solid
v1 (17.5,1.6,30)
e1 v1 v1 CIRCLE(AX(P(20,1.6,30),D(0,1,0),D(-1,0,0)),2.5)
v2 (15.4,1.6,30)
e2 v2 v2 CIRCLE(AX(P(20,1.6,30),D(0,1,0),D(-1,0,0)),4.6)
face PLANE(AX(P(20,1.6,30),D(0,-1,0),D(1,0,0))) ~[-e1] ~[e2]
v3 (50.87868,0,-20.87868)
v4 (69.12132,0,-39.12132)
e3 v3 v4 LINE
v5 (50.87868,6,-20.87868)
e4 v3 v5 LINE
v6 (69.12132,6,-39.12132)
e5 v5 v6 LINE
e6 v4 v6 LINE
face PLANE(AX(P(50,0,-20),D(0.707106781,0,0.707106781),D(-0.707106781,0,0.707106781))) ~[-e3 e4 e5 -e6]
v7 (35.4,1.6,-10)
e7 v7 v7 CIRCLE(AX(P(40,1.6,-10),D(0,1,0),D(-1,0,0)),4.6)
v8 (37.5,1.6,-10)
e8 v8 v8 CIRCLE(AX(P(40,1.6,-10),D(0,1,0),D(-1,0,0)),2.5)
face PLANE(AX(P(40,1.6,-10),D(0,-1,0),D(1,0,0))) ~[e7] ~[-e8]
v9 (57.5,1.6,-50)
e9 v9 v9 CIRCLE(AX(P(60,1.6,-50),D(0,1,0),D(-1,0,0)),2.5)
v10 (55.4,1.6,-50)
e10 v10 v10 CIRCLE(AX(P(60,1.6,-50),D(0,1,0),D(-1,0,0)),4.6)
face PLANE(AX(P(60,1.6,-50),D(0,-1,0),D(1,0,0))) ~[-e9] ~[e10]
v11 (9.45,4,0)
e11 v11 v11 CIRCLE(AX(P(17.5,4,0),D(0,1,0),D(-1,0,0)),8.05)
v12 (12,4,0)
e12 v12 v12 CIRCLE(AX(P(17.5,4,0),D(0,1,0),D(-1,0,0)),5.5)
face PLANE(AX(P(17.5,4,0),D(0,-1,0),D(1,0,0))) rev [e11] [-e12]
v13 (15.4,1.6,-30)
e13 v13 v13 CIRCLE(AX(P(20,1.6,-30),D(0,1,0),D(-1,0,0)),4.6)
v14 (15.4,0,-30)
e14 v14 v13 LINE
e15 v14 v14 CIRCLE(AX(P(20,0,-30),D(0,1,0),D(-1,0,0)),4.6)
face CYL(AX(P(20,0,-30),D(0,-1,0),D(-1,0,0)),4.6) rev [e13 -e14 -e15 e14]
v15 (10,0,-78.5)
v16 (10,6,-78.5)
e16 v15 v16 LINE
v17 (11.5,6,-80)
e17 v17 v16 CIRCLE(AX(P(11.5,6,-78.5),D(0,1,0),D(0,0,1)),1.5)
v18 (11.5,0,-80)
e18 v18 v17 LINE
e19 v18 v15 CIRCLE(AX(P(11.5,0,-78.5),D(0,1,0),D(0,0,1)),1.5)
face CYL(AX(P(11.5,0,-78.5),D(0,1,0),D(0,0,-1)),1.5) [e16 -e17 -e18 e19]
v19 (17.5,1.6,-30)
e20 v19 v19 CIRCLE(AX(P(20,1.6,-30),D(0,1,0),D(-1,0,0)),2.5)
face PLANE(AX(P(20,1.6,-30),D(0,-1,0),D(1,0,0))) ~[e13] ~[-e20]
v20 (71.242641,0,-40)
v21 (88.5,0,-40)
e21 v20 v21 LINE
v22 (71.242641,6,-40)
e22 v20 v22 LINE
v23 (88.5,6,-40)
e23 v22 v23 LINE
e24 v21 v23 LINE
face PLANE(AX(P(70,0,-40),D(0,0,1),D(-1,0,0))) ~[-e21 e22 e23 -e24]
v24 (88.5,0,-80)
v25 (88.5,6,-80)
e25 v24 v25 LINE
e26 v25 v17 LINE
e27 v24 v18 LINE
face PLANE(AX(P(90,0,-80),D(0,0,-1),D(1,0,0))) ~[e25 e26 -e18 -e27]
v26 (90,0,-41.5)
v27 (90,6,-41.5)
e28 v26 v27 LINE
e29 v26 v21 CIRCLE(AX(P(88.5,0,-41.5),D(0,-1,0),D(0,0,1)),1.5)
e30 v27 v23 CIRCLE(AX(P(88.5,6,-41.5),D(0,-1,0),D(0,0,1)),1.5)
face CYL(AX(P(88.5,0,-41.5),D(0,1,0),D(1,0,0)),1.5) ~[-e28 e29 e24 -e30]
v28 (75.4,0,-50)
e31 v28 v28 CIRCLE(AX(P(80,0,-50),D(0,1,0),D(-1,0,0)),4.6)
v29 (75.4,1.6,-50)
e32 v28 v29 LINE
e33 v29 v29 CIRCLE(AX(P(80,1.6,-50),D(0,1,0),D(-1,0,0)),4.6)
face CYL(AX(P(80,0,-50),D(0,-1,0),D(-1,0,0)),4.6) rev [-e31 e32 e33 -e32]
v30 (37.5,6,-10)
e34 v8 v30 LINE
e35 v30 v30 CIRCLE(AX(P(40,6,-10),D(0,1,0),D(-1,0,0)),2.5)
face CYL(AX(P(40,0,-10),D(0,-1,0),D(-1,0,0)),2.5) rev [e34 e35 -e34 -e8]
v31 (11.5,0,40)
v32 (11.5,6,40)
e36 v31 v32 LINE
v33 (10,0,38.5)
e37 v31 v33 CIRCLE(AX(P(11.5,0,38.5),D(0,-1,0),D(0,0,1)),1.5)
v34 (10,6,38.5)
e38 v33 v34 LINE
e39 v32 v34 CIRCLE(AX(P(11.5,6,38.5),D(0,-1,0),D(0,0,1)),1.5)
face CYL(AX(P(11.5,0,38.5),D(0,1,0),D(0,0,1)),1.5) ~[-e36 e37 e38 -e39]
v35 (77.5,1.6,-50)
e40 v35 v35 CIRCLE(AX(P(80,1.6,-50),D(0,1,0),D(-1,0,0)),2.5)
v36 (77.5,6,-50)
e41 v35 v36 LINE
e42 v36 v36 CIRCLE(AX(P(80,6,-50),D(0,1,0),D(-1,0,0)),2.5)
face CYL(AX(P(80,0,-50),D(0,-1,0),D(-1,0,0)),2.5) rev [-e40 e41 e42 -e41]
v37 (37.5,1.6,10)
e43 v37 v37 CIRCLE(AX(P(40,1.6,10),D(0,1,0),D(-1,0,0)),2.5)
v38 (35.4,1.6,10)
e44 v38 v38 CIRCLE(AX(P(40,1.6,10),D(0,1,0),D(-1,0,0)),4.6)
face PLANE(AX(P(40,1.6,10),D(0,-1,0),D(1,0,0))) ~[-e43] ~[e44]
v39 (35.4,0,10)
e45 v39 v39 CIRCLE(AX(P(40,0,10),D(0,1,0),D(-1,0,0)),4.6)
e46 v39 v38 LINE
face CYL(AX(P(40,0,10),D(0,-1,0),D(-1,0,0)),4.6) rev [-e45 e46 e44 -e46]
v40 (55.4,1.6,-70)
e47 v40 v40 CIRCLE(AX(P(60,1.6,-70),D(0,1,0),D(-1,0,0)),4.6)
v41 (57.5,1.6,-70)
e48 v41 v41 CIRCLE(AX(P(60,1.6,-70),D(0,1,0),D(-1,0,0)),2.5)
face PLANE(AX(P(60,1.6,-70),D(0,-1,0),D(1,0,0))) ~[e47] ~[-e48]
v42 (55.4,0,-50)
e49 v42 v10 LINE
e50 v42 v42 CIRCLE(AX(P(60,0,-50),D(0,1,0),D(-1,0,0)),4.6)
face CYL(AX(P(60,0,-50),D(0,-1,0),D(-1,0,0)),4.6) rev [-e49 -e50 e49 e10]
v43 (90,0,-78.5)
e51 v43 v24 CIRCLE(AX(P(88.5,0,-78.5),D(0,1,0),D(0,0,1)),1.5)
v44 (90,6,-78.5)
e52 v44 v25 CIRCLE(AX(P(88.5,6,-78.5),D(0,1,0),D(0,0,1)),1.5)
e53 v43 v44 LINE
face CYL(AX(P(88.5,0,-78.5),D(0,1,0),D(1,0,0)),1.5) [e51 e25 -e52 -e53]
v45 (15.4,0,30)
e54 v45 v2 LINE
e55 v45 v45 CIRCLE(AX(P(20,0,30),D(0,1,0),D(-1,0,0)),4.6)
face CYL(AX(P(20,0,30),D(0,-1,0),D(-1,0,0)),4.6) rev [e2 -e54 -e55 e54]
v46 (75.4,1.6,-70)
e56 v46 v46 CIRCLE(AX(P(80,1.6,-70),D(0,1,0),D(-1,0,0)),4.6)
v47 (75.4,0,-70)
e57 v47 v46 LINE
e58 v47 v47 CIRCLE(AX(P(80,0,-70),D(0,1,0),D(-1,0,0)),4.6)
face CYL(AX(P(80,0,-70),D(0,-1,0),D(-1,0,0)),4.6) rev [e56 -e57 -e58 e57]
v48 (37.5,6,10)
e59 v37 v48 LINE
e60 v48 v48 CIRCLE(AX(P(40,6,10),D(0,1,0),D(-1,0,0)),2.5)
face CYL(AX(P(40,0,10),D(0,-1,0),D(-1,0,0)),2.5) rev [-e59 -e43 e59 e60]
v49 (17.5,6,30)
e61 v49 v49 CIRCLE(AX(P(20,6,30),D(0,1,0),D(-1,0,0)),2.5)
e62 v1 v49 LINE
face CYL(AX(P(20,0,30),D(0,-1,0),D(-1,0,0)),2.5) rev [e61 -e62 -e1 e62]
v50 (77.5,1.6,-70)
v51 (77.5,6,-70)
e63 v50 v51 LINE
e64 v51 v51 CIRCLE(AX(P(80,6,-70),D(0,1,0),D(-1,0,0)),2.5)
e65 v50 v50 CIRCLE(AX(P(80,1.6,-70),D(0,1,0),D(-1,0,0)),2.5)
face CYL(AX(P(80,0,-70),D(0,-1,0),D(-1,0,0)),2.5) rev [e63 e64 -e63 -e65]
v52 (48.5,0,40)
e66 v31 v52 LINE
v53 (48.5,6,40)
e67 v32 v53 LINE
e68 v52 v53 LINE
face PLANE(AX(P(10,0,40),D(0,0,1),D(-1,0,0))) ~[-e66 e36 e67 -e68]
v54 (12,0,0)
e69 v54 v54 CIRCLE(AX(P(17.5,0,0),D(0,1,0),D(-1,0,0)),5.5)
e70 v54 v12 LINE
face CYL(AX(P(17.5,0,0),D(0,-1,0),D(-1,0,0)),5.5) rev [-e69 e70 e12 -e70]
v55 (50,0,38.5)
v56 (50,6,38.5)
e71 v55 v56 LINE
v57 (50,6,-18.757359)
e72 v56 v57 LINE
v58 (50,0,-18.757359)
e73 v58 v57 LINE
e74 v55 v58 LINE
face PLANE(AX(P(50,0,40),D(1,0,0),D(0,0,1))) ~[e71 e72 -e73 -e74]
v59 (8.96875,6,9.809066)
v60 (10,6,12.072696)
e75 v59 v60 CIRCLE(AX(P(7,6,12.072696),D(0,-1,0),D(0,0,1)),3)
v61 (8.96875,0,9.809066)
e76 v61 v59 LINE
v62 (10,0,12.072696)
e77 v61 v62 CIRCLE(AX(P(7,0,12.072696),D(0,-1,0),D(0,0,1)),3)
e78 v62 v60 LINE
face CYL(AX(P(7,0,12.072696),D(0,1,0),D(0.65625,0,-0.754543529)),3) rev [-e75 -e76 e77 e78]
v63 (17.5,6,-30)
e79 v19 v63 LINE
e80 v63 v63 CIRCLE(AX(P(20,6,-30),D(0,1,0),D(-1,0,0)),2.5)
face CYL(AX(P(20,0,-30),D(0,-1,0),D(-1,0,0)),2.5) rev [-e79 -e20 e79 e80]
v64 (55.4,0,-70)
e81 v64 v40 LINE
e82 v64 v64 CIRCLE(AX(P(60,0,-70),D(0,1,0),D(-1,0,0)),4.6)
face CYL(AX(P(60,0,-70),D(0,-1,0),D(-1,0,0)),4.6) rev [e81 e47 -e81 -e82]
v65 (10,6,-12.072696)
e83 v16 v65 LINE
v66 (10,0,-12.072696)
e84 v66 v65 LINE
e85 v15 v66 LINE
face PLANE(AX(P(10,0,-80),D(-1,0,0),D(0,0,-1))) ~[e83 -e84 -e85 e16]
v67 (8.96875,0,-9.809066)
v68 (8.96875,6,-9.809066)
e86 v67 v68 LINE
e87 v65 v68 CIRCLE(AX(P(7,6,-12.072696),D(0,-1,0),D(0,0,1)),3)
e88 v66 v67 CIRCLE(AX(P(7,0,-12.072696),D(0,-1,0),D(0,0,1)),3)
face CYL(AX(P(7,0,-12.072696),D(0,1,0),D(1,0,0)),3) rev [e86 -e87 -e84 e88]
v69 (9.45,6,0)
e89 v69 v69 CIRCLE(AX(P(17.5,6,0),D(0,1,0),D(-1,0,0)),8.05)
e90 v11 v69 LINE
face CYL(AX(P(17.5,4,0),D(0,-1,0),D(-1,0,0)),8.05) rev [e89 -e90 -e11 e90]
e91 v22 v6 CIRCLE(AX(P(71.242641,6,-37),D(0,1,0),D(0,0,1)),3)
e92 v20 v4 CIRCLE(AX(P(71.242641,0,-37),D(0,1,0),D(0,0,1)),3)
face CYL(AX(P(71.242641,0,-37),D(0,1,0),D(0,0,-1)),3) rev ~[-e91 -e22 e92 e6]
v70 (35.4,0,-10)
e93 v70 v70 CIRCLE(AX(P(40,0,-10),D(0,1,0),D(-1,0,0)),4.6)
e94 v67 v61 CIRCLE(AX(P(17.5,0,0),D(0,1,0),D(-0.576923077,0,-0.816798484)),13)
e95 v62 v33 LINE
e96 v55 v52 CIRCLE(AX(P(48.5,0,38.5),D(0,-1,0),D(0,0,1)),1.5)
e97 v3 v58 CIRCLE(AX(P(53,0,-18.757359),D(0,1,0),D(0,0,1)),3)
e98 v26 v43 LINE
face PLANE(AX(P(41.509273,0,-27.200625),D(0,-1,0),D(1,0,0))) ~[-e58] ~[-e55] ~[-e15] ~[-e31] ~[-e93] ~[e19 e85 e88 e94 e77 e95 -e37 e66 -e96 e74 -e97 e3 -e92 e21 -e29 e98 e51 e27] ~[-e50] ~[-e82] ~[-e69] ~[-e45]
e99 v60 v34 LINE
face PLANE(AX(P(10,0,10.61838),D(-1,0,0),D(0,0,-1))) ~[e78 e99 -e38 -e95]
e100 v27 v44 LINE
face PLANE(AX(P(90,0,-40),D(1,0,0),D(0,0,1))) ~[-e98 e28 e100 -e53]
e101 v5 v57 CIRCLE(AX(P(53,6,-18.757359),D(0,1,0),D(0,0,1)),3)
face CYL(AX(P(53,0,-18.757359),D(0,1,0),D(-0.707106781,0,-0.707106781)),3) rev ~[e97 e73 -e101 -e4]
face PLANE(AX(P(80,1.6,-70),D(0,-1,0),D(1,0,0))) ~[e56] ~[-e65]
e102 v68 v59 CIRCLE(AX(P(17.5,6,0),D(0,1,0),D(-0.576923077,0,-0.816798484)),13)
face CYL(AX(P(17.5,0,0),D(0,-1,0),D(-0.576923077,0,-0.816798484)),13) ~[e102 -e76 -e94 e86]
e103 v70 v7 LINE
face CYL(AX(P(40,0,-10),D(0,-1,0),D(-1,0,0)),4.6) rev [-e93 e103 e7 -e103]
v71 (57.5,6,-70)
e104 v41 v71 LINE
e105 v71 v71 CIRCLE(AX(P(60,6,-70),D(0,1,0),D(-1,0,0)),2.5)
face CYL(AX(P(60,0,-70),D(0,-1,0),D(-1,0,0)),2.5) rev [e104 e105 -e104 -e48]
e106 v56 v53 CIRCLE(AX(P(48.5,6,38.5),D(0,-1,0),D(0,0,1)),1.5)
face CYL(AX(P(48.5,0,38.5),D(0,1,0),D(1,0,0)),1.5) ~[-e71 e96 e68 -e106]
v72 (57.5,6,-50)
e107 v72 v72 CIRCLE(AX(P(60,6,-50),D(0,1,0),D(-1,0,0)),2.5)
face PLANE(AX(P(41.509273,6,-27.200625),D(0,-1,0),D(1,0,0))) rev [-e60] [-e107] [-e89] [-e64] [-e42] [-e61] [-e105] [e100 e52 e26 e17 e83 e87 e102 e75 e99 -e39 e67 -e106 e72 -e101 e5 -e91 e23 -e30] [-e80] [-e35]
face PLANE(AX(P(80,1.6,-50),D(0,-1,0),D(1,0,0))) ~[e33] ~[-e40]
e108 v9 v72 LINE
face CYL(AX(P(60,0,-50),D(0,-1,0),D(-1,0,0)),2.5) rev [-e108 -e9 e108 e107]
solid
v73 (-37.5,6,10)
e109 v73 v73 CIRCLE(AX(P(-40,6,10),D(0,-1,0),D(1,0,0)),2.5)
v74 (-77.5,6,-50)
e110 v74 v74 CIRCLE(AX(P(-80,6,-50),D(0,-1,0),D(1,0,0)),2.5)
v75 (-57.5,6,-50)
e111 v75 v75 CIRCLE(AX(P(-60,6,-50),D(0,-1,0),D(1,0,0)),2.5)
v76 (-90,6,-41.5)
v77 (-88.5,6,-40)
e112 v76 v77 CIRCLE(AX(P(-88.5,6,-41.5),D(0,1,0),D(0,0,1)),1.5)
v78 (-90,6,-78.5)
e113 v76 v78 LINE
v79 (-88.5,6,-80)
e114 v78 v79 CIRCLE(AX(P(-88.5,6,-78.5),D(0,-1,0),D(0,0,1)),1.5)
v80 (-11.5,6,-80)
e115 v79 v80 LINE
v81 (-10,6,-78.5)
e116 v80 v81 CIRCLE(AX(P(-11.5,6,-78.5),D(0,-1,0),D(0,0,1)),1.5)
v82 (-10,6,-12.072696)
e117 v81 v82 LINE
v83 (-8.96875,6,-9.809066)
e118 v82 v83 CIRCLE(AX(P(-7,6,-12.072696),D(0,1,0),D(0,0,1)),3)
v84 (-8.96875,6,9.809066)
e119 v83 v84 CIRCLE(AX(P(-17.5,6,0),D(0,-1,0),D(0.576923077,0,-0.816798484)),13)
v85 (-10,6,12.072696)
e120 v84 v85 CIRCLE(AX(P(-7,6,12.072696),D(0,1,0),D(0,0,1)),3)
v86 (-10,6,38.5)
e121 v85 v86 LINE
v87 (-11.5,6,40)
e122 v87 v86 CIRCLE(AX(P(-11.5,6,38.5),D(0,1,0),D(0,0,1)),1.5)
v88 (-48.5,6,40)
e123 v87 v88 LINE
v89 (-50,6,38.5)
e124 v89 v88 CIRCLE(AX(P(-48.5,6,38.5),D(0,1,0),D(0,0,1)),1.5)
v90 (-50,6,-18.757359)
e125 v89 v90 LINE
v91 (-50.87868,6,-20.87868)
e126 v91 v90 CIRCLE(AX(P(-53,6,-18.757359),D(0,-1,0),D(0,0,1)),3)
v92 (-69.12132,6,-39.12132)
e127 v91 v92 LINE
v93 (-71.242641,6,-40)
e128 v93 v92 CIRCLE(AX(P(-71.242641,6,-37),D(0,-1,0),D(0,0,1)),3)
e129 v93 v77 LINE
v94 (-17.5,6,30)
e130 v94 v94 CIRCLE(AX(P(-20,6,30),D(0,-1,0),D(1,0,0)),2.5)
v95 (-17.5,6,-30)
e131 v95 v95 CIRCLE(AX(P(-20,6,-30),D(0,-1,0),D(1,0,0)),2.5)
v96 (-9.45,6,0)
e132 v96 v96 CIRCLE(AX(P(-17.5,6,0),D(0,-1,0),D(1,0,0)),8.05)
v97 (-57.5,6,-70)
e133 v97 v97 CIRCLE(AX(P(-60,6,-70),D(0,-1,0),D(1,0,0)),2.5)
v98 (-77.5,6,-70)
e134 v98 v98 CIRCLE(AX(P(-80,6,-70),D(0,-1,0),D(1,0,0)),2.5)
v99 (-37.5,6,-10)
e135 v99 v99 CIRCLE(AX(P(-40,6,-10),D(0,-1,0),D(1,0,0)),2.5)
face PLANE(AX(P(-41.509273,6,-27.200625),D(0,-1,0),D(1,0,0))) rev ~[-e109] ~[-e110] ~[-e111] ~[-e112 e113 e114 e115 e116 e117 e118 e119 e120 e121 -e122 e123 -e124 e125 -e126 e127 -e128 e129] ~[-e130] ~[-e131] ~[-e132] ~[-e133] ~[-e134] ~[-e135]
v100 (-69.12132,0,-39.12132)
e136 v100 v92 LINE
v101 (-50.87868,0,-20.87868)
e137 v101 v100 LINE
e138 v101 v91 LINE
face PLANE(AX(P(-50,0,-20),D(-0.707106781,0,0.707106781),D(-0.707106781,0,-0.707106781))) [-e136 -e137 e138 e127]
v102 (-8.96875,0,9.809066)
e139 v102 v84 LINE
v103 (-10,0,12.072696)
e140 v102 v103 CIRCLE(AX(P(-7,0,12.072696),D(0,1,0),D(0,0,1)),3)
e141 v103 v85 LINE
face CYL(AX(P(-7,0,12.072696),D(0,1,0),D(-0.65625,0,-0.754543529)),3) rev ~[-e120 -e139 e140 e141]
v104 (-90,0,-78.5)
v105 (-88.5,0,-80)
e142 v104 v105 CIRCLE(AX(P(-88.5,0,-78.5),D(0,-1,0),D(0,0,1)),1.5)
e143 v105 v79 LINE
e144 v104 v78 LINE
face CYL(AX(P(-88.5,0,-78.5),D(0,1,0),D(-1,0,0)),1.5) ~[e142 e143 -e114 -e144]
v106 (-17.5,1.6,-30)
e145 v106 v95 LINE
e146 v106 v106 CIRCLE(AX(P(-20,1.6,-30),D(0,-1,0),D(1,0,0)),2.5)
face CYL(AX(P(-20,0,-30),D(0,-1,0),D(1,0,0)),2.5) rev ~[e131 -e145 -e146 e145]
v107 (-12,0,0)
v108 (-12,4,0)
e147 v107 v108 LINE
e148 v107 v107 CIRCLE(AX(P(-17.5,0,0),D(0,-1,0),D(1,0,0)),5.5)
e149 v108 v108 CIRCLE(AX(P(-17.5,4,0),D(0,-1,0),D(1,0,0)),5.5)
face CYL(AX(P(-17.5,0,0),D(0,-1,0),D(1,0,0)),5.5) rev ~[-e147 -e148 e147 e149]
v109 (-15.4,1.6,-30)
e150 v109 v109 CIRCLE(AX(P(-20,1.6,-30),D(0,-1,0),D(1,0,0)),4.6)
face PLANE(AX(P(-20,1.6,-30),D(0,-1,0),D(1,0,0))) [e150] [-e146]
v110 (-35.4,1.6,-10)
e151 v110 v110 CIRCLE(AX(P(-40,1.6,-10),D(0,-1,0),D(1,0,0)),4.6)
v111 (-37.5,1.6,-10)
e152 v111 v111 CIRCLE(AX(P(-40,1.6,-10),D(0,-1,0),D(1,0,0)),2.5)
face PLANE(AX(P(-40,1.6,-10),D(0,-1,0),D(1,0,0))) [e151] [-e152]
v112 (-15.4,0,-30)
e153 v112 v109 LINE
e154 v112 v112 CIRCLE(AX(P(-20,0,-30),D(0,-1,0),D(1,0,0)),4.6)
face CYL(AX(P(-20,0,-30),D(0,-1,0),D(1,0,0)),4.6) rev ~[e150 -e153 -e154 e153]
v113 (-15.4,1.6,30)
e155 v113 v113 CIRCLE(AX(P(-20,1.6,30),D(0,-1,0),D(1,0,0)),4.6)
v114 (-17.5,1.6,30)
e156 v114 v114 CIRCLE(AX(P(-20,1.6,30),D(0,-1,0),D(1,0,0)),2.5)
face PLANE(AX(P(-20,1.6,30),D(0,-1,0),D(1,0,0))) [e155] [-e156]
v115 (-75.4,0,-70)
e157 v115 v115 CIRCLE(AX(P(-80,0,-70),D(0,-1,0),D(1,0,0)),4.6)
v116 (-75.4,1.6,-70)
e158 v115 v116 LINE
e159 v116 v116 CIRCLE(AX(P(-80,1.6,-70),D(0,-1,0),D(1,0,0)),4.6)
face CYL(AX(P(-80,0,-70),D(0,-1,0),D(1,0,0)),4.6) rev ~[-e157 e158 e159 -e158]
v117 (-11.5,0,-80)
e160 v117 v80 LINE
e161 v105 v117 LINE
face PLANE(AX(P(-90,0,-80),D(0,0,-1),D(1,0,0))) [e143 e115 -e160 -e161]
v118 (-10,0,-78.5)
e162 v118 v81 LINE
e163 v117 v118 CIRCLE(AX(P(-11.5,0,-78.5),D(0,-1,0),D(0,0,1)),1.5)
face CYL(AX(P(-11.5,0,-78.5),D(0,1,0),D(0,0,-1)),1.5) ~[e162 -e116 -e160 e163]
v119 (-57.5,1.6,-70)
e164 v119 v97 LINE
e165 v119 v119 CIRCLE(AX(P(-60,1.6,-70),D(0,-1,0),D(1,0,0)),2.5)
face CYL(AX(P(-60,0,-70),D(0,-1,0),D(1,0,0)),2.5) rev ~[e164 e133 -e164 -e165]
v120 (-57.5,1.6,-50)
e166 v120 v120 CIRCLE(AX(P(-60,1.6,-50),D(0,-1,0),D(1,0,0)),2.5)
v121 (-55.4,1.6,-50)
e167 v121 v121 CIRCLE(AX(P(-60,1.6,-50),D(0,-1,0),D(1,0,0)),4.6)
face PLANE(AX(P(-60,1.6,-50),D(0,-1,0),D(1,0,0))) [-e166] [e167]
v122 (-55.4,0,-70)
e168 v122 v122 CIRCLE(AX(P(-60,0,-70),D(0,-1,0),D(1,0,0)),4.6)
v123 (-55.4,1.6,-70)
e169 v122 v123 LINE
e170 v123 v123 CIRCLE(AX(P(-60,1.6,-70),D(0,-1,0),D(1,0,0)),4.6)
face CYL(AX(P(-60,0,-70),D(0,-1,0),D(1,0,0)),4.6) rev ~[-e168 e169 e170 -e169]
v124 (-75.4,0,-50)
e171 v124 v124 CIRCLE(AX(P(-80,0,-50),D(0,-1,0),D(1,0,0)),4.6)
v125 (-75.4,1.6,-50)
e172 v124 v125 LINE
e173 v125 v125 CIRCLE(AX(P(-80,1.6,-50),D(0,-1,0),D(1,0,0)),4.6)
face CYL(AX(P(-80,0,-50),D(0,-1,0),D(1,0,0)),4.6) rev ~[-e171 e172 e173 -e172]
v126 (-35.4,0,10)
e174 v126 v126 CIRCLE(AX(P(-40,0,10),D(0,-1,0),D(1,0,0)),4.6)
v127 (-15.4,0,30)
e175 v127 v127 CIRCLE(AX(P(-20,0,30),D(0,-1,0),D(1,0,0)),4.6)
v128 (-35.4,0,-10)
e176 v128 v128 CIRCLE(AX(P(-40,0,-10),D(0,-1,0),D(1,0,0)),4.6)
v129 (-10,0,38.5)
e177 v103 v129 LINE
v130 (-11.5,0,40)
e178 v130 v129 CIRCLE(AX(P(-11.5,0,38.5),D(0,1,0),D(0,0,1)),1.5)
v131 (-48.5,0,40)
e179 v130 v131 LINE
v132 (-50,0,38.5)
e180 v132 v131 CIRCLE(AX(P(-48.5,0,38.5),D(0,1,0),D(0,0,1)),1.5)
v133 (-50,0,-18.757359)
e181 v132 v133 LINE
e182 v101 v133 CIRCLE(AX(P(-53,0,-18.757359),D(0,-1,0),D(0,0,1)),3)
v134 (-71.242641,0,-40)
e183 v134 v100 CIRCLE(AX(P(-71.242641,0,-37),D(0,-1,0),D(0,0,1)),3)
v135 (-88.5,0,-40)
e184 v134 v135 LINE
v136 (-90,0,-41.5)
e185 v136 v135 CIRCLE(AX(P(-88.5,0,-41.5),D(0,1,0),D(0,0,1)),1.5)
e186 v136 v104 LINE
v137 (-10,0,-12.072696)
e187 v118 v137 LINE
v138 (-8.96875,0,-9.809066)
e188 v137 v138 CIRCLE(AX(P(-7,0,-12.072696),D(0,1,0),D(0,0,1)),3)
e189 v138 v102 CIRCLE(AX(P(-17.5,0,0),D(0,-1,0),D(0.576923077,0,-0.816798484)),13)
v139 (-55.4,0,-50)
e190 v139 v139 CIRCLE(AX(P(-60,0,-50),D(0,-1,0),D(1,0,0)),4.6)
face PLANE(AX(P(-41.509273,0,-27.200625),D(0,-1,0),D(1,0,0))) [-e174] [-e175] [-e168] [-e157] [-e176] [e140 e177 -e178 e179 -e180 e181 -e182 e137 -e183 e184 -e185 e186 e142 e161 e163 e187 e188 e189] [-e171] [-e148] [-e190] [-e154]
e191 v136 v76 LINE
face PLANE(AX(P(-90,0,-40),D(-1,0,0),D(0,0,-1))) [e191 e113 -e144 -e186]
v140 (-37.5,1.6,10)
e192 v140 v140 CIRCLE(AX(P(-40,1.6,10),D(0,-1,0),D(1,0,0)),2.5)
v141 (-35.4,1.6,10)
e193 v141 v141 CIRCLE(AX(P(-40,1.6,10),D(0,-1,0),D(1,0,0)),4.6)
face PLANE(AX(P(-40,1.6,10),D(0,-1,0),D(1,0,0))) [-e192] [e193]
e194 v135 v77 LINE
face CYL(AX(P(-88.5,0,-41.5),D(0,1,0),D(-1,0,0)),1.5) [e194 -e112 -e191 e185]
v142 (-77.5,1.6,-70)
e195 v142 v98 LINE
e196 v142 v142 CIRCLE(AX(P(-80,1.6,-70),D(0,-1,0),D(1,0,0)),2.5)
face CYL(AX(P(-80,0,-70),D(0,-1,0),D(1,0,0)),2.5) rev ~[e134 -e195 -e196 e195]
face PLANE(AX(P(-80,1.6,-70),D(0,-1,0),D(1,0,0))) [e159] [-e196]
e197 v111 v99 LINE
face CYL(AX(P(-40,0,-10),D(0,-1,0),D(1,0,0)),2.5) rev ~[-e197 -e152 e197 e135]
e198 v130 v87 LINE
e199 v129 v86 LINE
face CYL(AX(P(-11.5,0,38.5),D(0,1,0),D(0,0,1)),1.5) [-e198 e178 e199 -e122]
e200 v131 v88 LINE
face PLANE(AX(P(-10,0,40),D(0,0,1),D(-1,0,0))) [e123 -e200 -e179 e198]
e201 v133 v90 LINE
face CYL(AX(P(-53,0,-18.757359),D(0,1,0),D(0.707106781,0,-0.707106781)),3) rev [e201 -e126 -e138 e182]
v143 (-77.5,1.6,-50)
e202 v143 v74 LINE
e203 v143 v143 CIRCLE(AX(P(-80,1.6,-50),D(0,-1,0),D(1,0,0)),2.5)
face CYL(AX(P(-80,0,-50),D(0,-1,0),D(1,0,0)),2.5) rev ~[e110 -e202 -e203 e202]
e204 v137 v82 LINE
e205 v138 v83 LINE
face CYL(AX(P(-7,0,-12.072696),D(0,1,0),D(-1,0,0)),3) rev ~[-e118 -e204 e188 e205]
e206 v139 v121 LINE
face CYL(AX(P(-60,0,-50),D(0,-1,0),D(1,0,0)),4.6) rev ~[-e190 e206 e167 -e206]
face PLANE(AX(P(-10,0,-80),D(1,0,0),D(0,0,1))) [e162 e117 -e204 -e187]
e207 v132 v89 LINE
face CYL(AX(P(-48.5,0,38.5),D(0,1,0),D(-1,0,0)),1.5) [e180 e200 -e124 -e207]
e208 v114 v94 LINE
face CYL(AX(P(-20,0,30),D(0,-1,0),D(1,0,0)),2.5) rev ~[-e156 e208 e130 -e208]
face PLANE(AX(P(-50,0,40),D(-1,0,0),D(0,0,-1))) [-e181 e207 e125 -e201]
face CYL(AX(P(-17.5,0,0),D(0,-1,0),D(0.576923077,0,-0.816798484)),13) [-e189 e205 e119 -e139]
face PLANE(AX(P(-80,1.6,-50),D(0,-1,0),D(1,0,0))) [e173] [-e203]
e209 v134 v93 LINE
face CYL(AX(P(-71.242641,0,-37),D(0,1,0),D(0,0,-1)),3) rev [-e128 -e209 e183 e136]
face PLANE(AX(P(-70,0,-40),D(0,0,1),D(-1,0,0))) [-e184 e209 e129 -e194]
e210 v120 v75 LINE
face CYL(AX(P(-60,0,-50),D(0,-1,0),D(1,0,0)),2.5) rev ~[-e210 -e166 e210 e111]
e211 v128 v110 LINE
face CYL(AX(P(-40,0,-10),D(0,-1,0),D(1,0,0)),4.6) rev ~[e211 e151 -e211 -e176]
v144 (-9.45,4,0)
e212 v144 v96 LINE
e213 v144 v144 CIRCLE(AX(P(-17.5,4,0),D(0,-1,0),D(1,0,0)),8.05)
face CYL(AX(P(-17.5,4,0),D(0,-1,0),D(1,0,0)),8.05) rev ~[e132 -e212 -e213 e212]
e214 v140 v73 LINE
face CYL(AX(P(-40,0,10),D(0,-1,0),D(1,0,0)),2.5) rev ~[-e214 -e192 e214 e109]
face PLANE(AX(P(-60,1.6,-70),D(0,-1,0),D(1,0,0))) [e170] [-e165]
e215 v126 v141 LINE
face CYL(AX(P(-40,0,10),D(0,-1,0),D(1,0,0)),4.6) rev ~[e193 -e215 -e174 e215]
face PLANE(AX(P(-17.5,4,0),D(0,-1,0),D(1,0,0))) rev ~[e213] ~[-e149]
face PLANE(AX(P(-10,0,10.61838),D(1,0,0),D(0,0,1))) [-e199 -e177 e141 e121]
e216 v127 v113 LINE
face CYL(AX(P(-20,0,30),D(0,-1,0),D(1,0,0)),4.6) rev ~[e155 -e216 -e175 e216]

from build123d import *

# Parameters (mm, degrees)
F0_R     = 4.6
F0_R_2   = 8.05
F0_R_3   = 2.5
F0_R_4   = 5.5
F1_DEPTH = 6
F2_DEPTH = 1.6
F3_START = -4
F3_DEPTH = 2
F4_R     = 1.5
F5_R     = 3


with BuildPart() as f1:
    # F0 (on Front) → F1 (new body)
    with BuildSketch(Plane.XZ):
        with BuildLine():
            Line((-90, -40), (-90, -80))
            Line((-90, -80), (-10, -80))
            Line((-10, -80), (-10, -10.6183802908))
            ThreePointArc((-10, -10.6183802908), (-4.5, 0), (-10, 10.6183802908))
            Line((-10, 10.6183802908), (-10, 40))
            Line((-10, 40), (-50, 40))
            Line((-50, 40), (-50, -20))
            Line((-50, -20), (-70, -40))
            Line((-70, -40), (-90, -40))
        make_face()
        with Locations((-80, -70)):
            Circle(F0_R, mode=Mode.SUBTRACT)
        with Locations((-60, -70)):
            Circle(F0_R, mode=Mode.SUBTRACT)
        with Locations((-80, -50)):
            Circle(F0_R, mode=Mode.SUBTRACT)
        with Locations((-60, -50)):
            Circle(F0_R, mode=Mode.SUBTRACT)
        with Locations((-20, -30)):
            Circle(F0_R, mode=Mode.SUBTRACT)
        with Locations((-40, -10)):
            Circle(F0_R, mode=Mode.SUBTRACT)
        with Locations((-17.5, 0)):
            Circle(F0_R_2, mode=Mode.SUBTRACT)
        with Locations((-40, 10)):
            Circle(F0_R, mode=Mode.SUBTRACT)
        with Locations((-20, 30)):
            Circle(F0_R, mode=Mode.SUBTRACT)
        with Locations((-20, 30)):
            Circle(F0_R)
        with Locations((-20, 30)):
            Circle(F0_R_3, mode=Mode.SUBTRACT)
        with Locations((-40, 10)):
            Circle(F0_R)
        with Locations((-40, 10)):
            Circle(F0_R_3, mode=Mode.SUBTRACT)
        with Locations((-40, -10)):
            Circle(F0_R)
        with Locations((-40, -10)):
            Circle(F0_R_3, mode=Mode.SUBTRACT)
        with Locations((-17.5, 0)):
            Circle(F0_R_2)
        with Locations((-17.5, 0)):
            Circle(F0_R_4, mode=Mode.SUBTRACT)
        with Locations((-20, -30)):
            Circle(F0_R)
        with Locations((-20, -30)):
            Circle(F0_R_3, mode=Mode.SUBTRACT)
        with Locations((-60, -50)):
            Circle(F0_R)
        with Locations((-60, -50)):
            Circle(F0_R_3, mode=Mode.SUBTRACT)
        with Locations((-80, -50)):
            Circle(F0_R)
        with Locations((-80, -50)):
            Circle(F0_R_3, mode=Mode.SUBTRACT)
        with Locations((-80, -70)):
            Circle(F0_R)
        with Locations((-80, -70)):
            Circle(F0_R_3, mode=Mode.SUBTRACT)
        with Locations((-60, -70)):
            Circle(F0_R)
        with Locations((-60, -70)):
            Circle(F0_R_3, mode=Mode.SUBTRACT)
    extrude(amount=-F1_DEPTH)

    # F0 (on Front) → F2 (cut)
    with BuildSketch(Plane.XZ):
        with Locations((-20, 30)):
            Circle(F0_R)
        with Locations((-20, 30)):
            Circle(F0_R_3, mode=Mode.SUBTRACT)
        with Locations((-40, 10)):
            Circle(F0_R)
        with Locations((-40, 10)):
            Circle(F0_R_3, mode=Mode.SUBTRACT)
        with Locations((-40, -10)):
            Circle(F0_R)
        with Locations((-40, -10)):
            Circle(F0_R_3, mode=Mode.SUBTRACT)
        with Locations((-20, -30)):
            Circle(F0_R)
        with Locations((-20, -30)):
            Circle(F0_R_3, mode=Mode.SUBTRACT)
        with Locations((-60, -50)):
            Circle(F0_R)
        with Locations((-60, -50)):
            Circle(F0_R_3, mode=Mode.SUBTRACT)
        with Locations((-80, -50)):
            Circle(F0_R)
        with Locations((-80, -50)):
            Circle(F0_R_3, mode=Mode.SUBTRACT)
        with Locations((-80, -70)):
            Circle(F0_R)
        with Locations((-80, -70)):
            Circle(F0_R_3, mode=Mode.SUBTRACT)
        with Locations((-60, -70)):
            Circle(F0_R)
        with Locations((-60, -70)):
            Circle(F0_R_3, mode=Mode.SUBTRACT)
    extrude(amount=-F2_DEPTH, mode=Mode.SUBTRACT)

    # F0 (on Front) → F3 (cut)
    with BuildSketch(Plane.XZ.offset(F3_START)):
        with Locations((-17.5, 0)):
            Circle(F0_R_2)
        with Locations((-17.5, 0)):
            Circle(F0_R_4, mode=Mode.SUBTRACT)
    extrude(amount=-F3_DEPTH, mode=Mode.SUBTRACT)

    # F4
    f4_edges = [f1.edges().sort_by_distance(p)[0] for p in [
        (-10, 3, 40),
        (-50, 3, 40),
        (-90, 3, -40),
        (-90, 3, -80),
        (-10, 3, -80),
    ]]
    fillet(f4_edges, radius=F4_R)

    # F5
    f5_edges = [f1.edges().sort_by_distance(p)[0] for p in [
        (-70, 3, -40),
        (-50, 3, -20),
        (-10, 3, 10.61838),
        (-10, 3, -10.61838),
    ]]
    fillet(f5_edges, radius=F5_R)


with BuildPart() as f6_1:
    # F6: instance of F1
    add(f1.part.mirror(Plane.YZ))


solid = Compound([f1.part, f6_1.part])
